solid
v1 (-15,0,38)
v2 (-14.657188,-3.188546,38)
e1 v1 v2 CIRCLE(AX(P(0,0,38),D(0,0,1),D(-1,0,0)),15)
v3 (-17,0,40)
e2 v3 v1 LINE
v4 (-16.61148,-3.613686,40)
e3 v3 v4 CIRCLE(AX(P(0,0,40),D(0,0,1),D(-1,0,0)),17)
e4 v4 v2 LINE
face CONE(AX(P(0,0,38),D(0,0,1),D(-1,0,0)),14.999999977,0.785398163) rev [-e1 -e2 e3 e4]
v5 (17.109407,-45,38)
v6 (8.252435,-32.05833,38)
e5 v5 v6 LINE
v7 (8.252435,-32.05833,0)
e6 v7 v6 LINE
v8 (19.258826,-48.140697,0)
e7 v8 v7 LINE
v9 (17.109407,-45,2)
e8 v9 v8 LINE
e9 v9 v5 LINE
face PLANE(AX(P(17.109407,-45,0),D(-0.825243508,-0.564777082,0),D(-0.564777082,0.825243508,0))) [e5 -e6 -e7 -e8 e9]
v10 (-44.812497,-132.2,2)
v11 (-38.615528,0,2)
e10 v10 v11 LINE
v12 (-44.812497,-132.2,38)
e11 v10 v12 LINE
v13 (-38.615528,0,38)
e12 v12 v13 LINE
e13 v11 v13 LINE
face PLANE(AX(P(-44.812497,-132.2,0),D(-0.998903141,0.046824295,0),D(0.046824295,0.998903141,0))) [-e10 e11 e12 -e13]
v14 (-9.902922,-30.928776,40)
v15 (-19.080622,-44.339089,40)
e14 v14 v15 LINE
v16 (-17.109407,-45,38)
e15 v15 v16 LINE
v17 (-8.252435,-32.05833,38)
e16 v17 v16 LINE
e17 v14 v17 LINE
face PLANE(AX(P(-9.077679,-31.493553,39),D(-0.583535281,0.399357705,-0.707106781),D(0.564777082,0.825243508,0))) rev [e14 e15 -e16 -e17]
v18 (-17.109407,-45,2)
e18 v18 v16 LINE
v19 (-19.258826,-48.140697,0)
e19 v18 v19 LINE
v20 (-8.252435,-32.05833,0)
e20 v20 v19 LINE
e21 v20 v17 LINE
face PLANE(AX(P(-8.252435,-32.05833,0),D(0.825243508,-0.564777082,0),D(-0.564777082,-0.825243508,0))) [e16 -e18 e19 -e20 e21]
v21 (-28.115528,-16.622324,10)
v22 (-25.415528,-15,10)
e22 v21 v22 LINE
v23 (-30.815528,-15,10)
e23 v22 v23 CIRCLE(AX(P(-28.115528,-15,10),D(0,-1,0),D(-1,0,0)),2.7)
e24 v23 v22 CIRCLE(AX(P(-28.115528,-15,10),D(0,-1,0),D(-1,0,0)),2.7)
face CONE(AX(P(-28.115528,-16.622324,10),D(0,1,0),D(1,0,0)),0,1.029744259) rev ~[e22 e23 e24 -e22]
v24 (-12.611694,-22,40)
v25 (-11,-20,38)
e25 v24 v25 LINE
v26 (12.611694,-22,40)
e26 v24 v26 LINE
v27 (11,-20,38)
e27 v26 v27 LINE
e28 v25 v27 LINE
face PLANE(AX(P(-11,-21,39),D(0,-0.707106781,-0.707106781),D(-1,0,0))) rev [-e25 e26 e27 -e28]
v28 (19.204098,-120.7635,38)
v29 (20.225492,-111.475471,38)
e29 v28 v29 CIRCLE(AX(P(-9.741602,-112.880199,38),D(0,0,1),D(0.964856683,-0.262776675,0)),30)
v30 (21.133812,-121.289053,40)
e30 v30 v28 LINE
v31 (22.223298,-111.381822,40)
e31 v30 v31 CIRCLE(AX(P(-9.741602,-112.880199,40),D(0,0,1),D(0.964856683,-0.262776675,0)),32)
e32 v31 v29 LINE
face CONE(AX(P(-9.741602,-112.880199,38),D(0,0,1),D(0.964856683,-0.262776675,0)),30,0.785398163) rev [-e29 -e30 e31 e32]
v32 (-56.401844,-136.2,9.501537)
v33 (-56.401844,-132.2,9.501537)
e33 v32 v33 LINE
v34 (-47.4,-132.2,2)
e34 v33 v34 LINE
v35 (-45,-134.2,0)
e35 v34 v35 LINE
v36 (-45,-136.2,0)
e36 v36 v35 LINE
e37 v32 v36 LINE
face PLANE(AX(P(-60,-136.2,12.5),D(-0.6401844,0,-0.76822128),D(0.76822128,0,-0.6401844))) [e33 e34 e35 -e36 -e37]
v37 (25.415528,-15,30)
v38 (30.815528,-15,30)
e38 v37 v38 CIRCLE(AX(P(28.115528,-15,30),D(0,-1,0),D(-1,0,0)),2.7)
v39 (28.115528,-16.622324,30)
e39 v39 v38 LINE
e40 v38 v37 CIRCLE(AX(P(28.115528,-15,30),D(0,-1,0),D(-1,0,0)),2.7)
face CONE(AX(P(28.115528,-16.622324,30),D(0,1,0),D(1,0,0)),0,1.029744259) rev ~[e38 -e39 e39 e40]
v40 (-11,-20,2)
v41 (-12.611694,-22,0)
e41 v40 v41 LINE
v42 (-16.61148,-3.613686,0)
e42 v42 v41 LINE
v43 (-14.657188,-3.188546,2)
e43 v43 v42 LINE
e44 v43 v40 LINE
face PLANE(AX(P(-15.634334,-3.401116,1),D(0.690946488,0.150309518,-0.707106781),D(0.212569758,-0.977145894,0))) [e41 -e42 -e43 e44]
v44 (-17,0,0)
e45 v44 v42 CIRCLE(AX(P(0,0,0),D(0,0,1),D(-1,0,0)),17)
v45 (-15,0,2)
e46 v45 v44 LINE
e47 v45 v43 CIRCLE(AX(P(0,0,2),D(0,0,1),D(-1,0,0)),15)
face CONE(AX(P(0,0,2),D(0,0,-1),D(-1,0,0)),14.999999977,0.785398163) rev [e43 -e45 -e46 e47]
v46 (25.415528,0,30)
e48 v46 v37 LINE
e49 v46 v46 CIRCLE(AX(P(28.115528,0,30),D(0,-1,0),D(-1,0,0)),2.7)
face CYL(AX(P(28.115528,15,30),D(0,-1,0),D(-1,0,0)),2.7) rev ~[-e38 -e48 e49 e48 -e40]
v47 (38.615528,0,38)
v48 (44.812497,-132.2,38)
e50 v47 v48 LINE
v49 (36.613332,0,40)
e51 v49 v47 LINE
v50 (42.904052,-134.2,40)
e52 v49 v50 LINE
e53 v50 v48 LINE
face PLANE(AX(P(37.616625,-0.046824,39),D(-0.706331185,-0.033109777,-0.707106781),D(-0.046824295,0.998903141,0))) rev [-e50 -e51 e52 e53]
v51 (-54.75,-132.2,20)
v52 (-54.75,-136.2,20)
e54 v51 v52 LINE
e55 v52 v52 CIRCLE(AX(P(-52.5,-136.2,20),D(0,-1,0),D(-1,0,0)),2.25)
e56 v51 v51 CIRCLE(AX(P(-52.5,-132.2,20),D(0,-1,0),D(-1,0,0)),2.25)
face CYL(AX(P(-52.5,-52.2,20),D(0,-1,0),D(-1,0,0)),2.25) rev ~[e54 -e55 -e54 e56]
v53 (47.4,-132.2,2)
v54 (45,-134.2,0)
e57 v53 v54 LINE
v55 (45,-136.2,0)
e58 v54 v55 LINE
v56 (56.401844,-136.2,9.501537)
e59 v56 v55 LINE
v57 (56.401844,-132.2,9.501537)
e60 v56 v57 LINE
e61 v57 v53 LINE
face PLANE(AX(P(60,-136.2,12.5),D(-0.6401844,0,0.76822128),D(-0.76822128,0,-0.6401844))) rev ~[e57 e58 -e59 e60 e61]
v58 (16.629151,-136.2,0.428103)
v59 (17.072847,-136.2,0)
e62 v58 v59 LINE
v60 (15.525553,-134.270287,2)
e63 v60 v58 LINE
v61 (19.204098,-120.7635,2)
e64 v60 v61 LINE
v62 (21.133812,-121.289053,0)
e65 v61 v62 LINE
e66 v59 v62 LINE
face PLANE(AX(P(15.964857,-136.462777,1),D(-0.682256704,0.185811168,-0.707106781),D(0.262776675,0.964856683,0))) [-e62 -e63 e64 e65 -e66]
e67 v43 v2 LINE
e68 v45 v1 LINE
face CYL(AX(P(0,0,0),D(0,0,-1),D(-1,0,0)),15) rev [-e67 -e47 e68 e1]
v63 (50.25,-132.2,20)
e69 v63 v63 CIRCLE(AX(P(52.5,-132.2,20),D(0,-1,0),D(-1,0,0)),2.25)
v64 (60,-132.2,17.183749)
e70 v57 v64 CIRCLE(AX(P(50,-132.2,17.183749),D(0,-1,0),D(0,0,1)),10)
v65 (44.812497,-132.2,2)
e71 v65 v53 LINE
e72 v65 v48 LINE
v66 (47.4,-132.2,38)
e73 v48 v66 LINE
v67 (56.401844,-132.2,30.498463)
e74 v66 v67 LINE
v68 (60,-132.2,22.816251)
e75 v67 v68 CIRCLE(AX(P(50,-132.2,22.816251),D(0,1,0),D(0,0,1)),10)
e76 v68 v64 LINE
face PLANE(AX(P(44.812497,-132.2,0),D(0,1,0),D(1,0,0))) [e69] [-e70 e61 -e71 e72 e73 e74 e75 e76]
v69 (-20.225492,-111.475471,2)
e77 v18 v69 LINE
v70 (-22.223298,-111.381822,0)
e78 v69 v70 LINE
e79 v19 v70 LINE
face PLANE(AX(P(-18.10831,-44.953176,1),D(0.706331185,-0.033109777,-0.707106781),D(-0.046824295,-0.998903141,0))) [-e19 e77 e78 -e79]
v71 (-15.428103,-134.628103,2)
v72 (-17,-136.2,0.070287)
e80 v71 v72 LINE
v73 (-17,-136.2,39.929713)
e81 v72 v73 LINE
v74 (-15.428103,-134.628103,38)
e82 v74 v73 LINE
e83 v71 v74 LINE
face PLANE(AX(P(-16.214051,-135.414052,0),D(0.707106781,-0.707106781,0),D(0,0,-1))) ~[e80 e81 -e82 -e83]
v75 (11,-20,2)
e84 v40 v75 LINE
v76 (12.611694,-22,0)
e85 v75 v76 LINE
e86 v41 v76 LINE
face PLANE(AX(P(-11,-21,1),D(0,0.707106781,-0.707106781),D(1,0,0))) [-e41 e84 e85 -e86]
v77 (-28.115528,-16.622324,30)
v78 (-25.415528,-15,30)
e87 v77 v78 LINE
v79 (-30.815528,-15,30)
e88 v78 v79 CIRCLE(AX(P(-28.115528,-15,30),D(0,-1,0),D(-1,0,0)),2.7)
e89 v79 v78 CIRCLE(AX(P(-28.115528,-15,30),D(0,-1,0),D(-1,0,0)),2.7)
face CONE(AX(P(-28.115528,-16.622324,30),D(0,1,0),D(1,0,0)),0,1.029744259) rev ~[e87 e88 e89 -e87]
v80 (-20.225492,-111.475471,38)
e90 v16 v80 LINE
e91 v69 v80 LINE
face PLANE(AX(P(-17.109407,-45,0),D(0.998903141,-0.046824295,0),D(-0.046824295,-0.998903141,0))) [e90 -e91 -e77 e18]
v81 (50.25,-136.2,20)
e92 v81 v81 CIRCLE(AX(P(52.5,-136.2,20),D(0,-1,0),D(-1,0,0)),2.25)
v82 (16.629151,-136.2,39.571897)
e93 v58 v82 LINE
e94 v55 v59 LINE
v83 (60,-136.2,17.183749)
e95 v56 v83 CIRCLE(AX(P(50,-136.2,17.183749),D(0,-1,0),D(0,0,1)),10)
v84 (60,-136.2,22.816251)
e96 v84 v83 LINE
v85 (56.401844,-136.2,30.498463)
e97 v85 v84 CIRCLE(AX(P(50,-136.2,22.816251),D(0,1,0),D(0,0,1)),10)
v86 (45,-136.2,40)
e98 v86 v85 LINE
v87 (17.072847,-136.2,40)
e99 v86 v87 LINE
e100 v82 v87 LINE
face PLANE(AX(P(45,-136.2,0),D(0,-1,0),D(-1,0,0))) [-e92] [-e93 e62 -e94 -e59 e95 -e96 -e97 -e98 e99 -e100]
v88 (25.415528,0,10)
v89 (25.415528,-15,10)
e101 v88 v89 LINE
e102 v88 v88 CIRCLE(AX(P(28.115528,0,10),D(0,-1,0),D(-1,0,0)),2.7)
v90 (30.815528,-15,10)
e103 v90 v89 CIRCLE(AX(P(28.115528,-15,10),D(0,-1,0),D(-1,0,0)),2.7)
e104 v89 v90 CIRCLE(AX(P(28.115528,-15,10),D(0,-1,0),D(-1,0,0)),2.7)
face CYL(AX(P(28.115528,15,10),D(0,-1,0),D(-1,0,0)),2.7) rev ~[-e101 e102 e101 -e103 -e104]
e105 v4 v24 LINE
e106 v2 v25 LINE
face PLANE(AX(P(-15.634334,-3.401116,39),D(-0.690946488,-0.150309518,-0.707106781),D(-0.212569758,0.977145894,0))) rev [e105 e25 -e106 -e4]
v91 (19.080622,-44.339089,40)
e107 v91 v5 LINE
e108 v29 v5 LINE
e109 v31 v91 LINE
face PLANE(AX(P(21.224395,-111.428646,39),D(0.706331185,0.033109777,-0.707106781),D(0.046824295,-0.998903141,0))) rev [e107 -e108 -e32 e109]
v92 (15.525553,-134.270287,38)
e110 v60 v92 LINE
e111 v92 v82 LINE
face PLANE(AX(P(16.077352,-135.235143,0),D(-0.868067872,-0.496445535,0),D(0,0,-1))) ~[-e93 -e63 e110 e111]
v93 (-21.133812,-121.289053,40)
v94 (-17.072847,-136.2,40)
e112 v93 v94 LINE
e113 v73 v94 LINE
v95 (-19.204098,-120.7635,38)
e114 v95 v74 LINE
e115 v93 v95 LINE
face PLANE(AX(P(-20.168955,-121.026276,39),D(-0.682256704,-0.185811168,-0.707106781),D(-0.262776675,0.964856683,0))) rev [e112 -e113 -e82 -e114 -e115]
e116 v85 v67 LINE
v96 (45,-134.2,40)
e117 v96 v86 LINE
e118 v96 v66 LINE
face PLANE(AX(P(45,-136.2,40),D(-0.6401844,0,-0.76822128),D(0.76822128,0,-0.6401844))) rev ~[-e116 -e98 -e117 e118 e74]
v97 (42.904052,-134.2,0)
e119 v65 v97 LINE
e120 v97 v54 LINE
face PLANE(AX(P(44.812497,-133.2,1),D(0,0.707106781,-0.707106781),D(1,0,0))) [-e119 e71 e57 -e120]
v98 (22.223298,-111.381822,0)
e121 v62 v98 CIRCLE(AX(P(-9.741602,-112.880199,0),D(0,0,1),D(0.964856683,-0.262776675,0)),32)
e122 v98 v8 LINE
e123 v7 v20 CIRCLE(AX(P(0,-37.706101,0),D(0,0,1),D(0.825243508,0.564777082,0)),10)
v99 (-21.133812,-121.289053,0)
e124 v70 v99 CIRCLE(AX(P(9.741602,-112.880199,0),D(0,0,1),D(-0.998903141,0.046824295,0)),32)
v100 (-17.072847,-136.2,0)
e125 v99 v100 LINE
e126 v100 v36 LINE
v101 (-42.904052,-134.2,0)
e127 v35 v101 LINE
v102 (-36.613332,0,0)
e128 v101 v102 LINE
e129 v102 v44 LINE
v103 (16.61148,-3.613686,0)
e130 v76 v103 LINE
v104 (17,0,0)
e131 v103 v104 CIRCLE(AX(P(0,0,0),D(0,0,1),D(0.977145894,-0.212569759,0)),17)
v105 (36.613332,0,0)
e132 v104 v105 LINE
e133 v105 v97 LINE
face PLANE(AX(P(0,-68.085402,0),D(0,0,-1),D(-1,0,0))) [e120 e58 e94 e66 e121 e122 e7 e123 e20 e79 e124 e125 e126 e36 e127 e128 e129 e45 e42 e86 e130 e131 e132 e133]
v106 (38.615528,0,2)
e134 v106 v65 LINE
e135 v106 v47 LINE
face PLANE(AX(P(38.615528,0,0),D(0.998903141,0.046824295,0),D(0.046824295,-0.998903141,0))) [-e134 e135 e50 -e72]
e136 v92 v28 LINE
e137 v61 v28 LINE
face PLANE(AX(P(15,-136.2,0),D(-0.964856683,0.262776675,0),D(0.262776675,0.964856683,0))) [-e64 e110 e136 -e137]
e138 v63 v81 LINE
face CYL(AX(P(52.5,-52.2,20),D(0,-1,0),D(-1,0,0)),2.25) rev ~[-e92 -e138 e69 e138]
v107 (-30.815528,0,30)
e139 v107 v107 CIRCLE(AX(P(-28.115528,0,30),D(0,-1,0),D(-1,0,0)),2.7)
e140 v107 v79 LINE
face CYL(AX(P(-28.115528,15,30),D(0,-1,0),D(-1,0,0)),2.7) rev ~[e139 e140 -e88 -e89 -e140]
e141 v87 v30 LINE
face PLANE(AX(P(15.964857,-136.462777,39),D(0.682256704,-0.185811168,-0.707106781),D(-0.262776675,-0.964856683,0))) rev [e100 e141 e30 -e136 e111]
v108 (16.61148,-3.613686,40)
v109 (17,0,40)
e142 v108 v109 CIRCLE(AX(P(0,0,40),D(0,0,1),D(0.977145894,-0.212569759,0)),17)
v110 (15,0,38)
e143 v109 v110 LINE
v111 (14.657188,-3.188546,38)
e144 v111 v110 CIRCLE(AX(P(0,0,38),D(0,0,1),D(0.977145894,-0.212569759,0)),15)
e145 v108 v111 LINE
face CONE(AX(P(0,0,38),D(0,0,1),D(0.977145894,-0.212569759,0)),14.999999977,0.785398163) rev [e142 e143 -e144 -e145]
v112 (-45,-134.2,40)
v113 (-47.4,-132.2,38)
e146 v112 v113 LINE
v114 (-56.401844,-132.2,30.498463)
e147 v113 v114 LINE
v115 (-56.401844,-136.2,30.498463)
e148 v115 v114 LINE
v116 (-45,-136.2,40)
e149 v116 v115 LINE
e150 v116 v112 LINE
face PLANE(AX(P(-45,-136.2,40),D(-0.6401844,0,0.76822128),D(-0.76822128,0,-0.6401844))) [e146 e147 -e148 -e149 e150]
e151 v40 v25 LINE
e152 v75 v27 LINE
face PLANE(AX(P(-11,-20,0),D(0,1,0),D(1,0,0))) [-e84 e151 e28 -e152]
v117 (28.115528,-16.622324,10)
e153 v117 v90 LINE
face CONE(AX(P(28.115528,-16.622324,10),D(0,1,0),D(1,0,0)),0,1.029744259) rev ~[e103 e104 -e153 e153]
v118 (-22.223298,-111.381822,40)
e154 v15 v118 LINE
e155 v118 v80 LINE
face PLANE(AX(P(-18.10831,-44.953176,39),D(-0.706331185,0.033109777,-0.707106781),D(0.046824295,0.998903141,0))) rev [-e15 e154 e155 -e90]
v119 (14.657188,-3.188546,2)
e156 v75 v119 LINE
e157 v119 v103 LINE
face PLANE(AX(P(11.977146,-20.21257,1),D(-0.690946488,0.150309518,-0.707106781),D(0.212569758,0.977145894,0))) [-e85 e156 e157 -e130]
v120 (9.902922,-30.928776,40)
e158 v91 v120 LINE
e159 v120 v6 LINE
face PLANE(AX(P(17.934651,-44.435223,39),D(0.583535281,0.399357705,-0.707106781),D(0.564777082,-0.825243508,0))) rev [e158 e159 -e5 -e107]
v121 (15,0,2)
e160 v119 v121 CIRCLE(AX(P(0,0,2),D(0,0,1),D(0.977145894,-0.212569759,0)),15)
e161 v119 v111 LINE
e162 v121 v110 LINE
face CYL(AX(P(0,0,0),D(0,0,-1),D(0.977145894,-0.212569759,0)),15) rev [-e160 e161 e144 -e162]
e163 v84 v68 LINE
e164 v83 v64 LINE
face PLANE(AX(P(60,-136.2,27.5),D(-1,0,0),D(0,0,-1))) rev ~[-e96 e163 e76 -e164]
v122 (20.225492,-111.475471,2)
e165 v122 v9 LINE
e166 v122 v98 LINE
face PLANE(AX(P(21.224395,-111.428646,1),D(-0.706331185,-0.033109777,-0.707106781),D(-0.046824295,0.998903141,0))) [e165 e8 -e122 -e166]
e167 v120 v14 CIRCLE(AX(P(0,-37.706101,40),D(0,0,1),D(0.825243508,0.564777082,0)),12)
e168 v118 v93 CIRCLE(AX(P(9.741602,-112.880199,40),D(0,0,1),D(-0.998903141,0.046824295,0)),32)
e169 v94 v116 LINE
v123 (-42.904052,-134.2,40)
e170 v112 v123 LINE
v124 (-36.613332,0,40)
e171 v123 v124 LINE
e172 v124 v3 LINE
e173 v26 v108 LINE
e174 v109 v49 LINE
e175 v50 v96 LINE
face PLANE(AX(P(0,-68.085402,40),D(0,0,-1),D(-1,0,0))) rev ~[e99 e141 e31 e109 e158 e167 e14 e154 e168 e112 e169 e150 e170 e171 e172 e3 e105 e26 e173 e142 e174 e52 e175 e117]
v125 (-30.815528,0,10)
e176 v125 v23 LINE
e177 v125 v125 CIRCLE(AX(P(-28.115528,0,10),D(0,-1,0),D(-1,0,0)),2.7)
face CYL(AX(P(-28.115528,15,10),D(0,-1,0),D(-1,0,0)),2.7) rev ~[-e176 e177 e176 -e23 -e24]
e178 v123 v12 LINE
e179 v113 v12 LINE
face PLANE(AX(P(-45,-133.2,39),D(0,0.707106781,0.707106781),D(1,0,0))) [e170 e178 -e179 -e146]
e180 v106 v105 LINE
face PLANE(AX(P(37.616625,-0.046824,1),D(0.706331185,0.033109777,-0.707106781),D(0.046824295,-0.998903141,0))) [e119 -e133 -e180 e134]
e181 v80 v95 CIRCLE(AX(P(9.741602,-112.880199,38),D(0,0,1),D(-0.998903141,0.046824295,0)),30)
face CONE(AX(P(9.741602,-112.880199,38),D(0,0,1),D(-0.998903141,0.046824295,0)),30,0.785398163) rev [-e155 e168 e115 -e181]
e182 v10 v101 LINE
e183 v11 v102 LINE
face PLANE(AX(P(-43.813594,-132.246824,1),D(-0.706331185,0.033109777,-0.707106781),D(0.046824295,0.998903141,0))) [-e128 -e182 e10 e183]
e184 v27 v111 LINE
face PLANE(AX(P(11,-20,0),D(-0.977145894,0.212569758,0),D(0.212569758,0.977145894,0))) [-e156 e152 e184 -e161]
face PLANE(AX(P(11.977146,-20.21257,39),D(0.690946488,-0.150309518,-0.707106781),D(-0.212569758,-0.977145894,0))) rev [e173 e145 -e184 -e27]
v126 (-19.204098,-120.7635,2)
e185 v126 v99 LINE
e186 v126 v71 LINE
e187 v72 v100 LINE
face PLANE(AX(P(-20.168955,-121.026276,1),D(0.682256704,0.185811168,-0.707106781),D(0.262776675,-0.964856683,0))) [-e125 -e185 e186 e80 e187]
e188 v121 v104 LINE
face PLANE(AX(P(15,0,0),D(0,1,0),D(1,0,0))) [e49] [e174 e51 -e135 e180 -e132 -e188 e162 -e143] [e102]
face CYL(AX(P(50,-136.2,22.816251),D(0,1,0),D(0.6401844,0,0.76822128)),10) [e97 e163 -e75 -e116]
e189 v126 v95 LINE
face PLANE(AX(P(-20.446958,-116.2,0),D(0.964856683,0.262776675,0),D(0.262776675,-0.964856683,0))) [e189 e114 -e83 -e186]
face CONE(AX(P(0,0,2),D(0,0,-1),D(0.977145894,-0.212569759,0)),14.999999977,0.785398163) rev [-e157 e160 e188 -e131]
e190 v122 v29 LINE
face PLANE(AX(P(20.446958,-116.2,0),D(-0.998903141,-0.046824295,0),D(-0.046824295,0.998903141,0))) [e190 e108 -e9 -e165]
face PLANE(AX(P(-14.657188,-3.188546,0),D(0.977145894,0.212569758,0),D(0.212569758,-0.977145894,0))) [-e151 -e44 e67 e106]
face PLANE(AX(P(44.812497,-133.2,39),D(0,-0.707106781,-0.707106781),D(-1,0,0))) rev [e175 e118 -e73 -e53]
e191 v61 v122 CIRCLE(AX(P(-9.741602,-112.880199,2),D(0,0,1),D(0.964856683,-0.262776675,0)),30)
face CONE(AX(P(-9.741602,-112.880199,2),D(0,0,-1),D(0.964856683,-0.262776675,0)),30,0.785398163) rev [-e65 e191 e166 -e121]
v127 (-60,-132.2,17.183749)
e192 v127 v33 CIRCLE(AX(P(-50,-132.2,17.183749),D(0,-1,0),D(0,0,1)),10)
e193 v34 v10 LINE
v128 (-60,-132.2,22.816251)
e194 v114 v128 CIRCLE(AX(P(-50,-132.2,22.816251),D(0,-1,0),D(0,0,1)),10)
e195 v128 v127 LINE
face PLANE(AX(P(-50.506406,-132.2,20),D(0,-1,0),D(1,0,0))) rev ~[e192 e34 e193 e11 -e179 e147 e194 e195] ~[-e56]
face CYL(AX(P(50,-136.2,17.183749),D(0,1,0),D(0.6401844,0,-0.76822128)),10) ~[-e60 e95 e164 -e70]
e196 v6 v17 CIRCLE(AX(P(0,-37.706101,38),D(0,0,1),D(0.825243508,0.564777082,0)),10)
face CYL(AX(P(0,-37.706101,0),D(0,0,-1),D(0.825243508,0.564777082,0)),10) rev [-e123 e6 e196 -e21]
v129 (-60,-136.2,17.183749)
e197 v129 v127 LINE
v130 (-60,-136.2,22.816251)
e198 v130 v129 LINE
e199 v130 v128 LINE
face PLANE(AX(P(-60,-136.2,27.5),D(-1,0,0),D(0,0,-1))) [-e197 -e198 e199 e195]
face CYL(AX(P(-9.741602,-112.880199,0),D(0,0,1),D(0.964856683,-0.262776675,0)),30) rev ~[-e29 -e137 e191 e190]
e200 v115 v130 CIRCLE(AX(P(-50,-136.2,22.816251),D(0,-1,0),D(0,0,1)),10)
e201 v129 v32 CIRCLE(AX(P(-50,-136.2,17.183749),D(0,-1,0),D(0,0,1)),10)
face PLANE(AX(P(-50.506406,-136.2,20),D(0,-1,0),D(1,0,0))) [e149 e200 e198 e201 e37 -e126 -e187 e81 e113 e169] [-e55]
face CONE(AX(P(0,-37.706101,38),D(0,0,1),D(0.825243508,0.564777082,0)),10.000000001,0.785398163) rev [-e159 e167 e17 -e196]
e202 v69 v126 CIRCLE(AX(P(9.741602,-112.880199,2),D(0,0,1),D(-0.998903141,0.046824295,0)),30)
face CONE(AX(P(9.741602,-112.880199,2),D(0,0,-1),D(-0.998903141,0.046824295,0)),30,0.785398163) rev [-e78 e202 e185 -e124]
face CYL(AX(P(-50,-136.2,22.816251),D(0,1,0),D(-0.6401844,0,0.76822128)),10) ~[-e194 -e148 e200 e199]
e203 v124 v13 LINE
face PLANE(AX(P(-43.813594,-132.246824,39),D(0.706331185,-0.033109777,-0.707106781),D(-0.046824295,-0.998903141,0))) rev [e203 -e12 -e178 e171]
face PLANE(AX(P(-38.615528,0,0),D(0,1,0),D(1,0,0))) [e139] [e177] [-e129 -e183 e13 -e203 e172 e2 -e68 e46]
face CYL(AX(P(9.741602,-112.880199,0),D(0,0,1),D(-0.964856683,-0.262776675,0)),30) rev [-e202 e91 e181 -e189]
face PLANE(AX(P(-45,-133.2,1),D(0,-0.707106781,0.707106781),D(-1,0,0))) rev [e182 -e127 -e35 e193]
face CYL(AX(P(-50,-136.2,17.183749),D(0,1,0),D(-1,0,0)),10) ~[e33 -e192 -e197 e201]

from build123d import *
from OCP.BRepFilletAPI import BRepFilletAPI_MakeChamfer

# Parameters (mm, degrees)
ESTRUSIONE_ESTRUSIONE1_DEPTH = 40
FORO_PER_VITE_M4_1_D         = 5.4
FORO_PER_VITE_M4_1_DEPTH     = 15
FORO_PER_VITE_M4_1_TIP       = 1.622323671
ESTRUSIONE_ESTRUSIONE2_DEPTH = 4
FORO_PER_VITE_M4_2_D         = 4.5
FORO_PER_VITE_M4_2_DEPTH     = 80
FORO_PER_VITE_M4_2_TIP       = 1.351936393
RACCORDO1_R                  = 10
RACCORDO2_R                  = 30
SMUSSO1_SIZE                 = 2
SMUSSO1_SIZE2                = 1.629150908


with BuildPart() as part:
    # Schizzo1 → Estrusione-Estrusione1 (new body)
    with BuildSketch(Plane.XY):
        with BuildLine():
            Line((-14.657188407, -3.188546376), (-11, -20))
            Line((-11, -20), (11, -20))
            Line((11, -20), (14.657188407, -3.188546376))
            ThreePointArc((14.657188407, -3.188546376), (14.91405086, -1.603460927), (15, 0))
            Line((15, 0), (38.615528128, 0))
            Line((38.615528128, 0), (44.812497155, -132.20000012))
            Line((44.812497155, -132.20000012), (45, -132.20000012))
            Line((45, -132.20000012), (45, -136.20000012))
            Line((45, -136.20000012), (15, -136.20000012))
            Line((15, -136.20000012), (20.446957648, -116.20000012))
            Line((20.446957648, -116.20000012), (17.109407004, -45))
            Line((17.109407004, -45), (8.25243508, -32.058330072))
            ThreePointArc((8.25243508, -32.058330072), (0, -27.706100894), (-8.25243508, -32.058330072))
            Line((-8.25243508, -32.058330072), (-17.109407004, -45))
            Line((-17.109407004, -45), (-20.446957648, -116.20000012))
            Line((-20.446957648, -116.20000012), (-15, -136.20000012))
            Line((-15, -136.20000012), (-45, -136.20000012))
            Line((-45, -136.20000012), (-45, -132.20000012))
            Line((-45, -132.20000012), (-44.812497155, -132.20000012))
            Line((-44.812497155, -132.20000012), (-38.615528128, 0))
            Line((-38.615528128, 0), (-15, 0))
            ThreePointArc((-15, 0), (-14.91405086, -1.603460927), (-14.657188407, -3.188546376))
        make_face()
    extrude(amount=ESTRUSIONE_ESTRUSIONE1_DEPTH)

    # Foro per Vite M4-1
    with Locations(Plane(origin=(0, 0, 0), x_dir=(1, 0, 0), z_dir=(0, 1, 0))):
        with Locations((-28.115528128, -10), (-28.115528128, -30), (28.115528128, -30), (28.115528128, -10)):
            Hole(FORO_PER_VITE_M4_1_D / 2, depth=FORO_PER_VITE_M4_1_DEPTH)
            with Locations((0, 0, -(FORO_PER_VITE_M4_1_DEPTH + FORO_PER_VITE_M4_1_TIP / 2))):  # 118° drill point
                Cone(0, FORO_PER_VITE_M4_1_D / 2, FORO_PER_VITE_M4_1_TIP, mode=Mode.SUBTRACT)

    # Schizzo6 → Estrusione-Estrusione2 (add)
    with BuildSketch(Plane.XZ.offset(136.20000012)):
        Polygon((-45, 40), (-60, 27.5), (-60, 12.5), (-45, 0), align=None)
        Polygon((45, 40), (60, 27.5), (60, 12.5), (45, 0), align=None)
    extrude(amount=-ESTRUSIONE_ESTRUSIONE2_DEPTH)

    # Foro per Vite M4-2
    with Locations(Plane(origin=(0, -132.20000012, 0), x_dir=(1, 0, 0), z_dir=(0, 1, 0))):
        with Locations((-52.5, -20), (52.5, -20)):
            Hole(FORO_PER_VITE_M4_2_D / 2, depth=FORO_PER_VITE_M4_2_DEPTH)
            with Locations((0, 0, -(FORO_PER_VITE_M4_2_DEPTH + FORO_PER_VITE_M4_2_TIP / 2))):  # 118° drill point
                Cone(0, FORO_PER_VITE_M4_2_D / 2, FORO_PER_VITE_M4_2_TIP, mode=Mode.SUBTRACT)

    # Raccordo1
    raccordo1_edges = [part.edges().sort_by_distance(p)[0] for p in [
        (-60, -134.20000012, 12.5),
        (-60, -134.20000012, 27.5),
        (60, -134.20000012, 27.5),
        (60, -134.20000012, 12.5),
    ]]
    fillet(raccordo1_edges, radius=RACCORDO1_R)

    # Raccordo2
    raccordo2_edges = [part.edges().sort_by_distance(p)[0] for p in [
        (-20.446957648, -116.20000012, 20),
        (20.446957648, -116.20000012, 20),
    ]]
    fillet(raccordo2_edges, radius=RACCORDO2_R)

    # Smusso1: one chamfer whose edges measure the first distance from different faces: ONE call of the kernel's chamfer builder (chamfer() names one face for all edges)
    smusso1_edges_1 = [part.edges().sort_by_distance(p)[0] for p in [
        (-18.667449483, -78.237735256, 40),
        (12.680921042, -38.529165036, 40),
        (-12.680921042, -38.529165036, 40),
        (17.102049114, -128.481749861, 0),
        (17.102049114, -128.481749861, 40),
        (-17.102049114, -128.481749861, 0),
        (-17.102049114, -128.481749861, 40),
        (20.078629399, -116.159495492, 0),
        (20.078629399, -116.159495492, 40),
        (-20.078629399, -116.159495492, 0),
        (-20.078629399, -116.159495492, 40),
        (18.667449483, -78.237735256, 40),
        (-18.667449483, -78.237735256, 0),
        (-44.906248578, -132.20000012, 0),
        (-41.714012642, -66.10000006, 0),
        (-14.91405086, -1.603460927, 0),
        (-12.828594204, -11.594273188, 0),
        (0, -20, 0),
        (12.828594204, -11.594273188, 0),
        (14.91405086, -1.603460927, 0),
        (41.714012642, -66.10000006, 0),
        (44.906248578, -132.20000012, 0),
        (18.667449483, -78.237735256, 0),
        (44.906248578, -132.20000012, 40),
        (41.714012642, -66.10000006, 40),
        (14.91405086, -1.603460927, 40),
        (12.828594204, -11.594273188, 40),
        (0, -27.706100894, 40),
        (0, -20, 40),
        (-12.828594204, -11.594273188, 40),
        (-14.91405086, -1.603460927, 40),
        (-41.714012642, -66.10000006, 40),
        (-44.906248578, -132.20000012, 40),
    ]]
    smusso1_edges_2 = [part.edges().sort_by_distance(p)[0] for p in [
        (-15, -136.20000012, 20),
    ]]
    smusso1_side_2 = [part.faces().sort_by_distance(p)[0] for p in [
        (-35.203995695, -136.20000012, 20),
    ]]
    smusso1_edges_3 = [part.edges().sort_by_distance(p)[0] for p in [
        (15, -136.20000012, 20),
    ]]
    smusso1_side_3 = [part.faces().sort_by_distance(p)[0] for p in [
        (17.102049114, -128.481749861, 20),
    ]]
    smusso1 = BRepFilletAPI_MakeChamfer(part.part.solid().wrapped)
    for e in smusso1_edges_1:
        smusso1.Add(SMUSSO1_SIZE, e.wrapped)
    for e in smusso1_edges_2:
        smusso1.Add(SMUSSO1_SIZE, SMUSSO1_SIZE2, e.wrapped, smusso1_side_2[0].wrapped)  # the first distance lies on this face
    for e in smusso1_edges_3:
        smusso1.Add(SMUSSO1_SIZE, SMUSSO1_SIZE2, e.wrapped, smusso1_side_3[0].wrapped)  # the first distance lies on this face
    add(Compound.cast(smusso1.Shape()), mode=Mode.REPLACE)


solid = part.part
